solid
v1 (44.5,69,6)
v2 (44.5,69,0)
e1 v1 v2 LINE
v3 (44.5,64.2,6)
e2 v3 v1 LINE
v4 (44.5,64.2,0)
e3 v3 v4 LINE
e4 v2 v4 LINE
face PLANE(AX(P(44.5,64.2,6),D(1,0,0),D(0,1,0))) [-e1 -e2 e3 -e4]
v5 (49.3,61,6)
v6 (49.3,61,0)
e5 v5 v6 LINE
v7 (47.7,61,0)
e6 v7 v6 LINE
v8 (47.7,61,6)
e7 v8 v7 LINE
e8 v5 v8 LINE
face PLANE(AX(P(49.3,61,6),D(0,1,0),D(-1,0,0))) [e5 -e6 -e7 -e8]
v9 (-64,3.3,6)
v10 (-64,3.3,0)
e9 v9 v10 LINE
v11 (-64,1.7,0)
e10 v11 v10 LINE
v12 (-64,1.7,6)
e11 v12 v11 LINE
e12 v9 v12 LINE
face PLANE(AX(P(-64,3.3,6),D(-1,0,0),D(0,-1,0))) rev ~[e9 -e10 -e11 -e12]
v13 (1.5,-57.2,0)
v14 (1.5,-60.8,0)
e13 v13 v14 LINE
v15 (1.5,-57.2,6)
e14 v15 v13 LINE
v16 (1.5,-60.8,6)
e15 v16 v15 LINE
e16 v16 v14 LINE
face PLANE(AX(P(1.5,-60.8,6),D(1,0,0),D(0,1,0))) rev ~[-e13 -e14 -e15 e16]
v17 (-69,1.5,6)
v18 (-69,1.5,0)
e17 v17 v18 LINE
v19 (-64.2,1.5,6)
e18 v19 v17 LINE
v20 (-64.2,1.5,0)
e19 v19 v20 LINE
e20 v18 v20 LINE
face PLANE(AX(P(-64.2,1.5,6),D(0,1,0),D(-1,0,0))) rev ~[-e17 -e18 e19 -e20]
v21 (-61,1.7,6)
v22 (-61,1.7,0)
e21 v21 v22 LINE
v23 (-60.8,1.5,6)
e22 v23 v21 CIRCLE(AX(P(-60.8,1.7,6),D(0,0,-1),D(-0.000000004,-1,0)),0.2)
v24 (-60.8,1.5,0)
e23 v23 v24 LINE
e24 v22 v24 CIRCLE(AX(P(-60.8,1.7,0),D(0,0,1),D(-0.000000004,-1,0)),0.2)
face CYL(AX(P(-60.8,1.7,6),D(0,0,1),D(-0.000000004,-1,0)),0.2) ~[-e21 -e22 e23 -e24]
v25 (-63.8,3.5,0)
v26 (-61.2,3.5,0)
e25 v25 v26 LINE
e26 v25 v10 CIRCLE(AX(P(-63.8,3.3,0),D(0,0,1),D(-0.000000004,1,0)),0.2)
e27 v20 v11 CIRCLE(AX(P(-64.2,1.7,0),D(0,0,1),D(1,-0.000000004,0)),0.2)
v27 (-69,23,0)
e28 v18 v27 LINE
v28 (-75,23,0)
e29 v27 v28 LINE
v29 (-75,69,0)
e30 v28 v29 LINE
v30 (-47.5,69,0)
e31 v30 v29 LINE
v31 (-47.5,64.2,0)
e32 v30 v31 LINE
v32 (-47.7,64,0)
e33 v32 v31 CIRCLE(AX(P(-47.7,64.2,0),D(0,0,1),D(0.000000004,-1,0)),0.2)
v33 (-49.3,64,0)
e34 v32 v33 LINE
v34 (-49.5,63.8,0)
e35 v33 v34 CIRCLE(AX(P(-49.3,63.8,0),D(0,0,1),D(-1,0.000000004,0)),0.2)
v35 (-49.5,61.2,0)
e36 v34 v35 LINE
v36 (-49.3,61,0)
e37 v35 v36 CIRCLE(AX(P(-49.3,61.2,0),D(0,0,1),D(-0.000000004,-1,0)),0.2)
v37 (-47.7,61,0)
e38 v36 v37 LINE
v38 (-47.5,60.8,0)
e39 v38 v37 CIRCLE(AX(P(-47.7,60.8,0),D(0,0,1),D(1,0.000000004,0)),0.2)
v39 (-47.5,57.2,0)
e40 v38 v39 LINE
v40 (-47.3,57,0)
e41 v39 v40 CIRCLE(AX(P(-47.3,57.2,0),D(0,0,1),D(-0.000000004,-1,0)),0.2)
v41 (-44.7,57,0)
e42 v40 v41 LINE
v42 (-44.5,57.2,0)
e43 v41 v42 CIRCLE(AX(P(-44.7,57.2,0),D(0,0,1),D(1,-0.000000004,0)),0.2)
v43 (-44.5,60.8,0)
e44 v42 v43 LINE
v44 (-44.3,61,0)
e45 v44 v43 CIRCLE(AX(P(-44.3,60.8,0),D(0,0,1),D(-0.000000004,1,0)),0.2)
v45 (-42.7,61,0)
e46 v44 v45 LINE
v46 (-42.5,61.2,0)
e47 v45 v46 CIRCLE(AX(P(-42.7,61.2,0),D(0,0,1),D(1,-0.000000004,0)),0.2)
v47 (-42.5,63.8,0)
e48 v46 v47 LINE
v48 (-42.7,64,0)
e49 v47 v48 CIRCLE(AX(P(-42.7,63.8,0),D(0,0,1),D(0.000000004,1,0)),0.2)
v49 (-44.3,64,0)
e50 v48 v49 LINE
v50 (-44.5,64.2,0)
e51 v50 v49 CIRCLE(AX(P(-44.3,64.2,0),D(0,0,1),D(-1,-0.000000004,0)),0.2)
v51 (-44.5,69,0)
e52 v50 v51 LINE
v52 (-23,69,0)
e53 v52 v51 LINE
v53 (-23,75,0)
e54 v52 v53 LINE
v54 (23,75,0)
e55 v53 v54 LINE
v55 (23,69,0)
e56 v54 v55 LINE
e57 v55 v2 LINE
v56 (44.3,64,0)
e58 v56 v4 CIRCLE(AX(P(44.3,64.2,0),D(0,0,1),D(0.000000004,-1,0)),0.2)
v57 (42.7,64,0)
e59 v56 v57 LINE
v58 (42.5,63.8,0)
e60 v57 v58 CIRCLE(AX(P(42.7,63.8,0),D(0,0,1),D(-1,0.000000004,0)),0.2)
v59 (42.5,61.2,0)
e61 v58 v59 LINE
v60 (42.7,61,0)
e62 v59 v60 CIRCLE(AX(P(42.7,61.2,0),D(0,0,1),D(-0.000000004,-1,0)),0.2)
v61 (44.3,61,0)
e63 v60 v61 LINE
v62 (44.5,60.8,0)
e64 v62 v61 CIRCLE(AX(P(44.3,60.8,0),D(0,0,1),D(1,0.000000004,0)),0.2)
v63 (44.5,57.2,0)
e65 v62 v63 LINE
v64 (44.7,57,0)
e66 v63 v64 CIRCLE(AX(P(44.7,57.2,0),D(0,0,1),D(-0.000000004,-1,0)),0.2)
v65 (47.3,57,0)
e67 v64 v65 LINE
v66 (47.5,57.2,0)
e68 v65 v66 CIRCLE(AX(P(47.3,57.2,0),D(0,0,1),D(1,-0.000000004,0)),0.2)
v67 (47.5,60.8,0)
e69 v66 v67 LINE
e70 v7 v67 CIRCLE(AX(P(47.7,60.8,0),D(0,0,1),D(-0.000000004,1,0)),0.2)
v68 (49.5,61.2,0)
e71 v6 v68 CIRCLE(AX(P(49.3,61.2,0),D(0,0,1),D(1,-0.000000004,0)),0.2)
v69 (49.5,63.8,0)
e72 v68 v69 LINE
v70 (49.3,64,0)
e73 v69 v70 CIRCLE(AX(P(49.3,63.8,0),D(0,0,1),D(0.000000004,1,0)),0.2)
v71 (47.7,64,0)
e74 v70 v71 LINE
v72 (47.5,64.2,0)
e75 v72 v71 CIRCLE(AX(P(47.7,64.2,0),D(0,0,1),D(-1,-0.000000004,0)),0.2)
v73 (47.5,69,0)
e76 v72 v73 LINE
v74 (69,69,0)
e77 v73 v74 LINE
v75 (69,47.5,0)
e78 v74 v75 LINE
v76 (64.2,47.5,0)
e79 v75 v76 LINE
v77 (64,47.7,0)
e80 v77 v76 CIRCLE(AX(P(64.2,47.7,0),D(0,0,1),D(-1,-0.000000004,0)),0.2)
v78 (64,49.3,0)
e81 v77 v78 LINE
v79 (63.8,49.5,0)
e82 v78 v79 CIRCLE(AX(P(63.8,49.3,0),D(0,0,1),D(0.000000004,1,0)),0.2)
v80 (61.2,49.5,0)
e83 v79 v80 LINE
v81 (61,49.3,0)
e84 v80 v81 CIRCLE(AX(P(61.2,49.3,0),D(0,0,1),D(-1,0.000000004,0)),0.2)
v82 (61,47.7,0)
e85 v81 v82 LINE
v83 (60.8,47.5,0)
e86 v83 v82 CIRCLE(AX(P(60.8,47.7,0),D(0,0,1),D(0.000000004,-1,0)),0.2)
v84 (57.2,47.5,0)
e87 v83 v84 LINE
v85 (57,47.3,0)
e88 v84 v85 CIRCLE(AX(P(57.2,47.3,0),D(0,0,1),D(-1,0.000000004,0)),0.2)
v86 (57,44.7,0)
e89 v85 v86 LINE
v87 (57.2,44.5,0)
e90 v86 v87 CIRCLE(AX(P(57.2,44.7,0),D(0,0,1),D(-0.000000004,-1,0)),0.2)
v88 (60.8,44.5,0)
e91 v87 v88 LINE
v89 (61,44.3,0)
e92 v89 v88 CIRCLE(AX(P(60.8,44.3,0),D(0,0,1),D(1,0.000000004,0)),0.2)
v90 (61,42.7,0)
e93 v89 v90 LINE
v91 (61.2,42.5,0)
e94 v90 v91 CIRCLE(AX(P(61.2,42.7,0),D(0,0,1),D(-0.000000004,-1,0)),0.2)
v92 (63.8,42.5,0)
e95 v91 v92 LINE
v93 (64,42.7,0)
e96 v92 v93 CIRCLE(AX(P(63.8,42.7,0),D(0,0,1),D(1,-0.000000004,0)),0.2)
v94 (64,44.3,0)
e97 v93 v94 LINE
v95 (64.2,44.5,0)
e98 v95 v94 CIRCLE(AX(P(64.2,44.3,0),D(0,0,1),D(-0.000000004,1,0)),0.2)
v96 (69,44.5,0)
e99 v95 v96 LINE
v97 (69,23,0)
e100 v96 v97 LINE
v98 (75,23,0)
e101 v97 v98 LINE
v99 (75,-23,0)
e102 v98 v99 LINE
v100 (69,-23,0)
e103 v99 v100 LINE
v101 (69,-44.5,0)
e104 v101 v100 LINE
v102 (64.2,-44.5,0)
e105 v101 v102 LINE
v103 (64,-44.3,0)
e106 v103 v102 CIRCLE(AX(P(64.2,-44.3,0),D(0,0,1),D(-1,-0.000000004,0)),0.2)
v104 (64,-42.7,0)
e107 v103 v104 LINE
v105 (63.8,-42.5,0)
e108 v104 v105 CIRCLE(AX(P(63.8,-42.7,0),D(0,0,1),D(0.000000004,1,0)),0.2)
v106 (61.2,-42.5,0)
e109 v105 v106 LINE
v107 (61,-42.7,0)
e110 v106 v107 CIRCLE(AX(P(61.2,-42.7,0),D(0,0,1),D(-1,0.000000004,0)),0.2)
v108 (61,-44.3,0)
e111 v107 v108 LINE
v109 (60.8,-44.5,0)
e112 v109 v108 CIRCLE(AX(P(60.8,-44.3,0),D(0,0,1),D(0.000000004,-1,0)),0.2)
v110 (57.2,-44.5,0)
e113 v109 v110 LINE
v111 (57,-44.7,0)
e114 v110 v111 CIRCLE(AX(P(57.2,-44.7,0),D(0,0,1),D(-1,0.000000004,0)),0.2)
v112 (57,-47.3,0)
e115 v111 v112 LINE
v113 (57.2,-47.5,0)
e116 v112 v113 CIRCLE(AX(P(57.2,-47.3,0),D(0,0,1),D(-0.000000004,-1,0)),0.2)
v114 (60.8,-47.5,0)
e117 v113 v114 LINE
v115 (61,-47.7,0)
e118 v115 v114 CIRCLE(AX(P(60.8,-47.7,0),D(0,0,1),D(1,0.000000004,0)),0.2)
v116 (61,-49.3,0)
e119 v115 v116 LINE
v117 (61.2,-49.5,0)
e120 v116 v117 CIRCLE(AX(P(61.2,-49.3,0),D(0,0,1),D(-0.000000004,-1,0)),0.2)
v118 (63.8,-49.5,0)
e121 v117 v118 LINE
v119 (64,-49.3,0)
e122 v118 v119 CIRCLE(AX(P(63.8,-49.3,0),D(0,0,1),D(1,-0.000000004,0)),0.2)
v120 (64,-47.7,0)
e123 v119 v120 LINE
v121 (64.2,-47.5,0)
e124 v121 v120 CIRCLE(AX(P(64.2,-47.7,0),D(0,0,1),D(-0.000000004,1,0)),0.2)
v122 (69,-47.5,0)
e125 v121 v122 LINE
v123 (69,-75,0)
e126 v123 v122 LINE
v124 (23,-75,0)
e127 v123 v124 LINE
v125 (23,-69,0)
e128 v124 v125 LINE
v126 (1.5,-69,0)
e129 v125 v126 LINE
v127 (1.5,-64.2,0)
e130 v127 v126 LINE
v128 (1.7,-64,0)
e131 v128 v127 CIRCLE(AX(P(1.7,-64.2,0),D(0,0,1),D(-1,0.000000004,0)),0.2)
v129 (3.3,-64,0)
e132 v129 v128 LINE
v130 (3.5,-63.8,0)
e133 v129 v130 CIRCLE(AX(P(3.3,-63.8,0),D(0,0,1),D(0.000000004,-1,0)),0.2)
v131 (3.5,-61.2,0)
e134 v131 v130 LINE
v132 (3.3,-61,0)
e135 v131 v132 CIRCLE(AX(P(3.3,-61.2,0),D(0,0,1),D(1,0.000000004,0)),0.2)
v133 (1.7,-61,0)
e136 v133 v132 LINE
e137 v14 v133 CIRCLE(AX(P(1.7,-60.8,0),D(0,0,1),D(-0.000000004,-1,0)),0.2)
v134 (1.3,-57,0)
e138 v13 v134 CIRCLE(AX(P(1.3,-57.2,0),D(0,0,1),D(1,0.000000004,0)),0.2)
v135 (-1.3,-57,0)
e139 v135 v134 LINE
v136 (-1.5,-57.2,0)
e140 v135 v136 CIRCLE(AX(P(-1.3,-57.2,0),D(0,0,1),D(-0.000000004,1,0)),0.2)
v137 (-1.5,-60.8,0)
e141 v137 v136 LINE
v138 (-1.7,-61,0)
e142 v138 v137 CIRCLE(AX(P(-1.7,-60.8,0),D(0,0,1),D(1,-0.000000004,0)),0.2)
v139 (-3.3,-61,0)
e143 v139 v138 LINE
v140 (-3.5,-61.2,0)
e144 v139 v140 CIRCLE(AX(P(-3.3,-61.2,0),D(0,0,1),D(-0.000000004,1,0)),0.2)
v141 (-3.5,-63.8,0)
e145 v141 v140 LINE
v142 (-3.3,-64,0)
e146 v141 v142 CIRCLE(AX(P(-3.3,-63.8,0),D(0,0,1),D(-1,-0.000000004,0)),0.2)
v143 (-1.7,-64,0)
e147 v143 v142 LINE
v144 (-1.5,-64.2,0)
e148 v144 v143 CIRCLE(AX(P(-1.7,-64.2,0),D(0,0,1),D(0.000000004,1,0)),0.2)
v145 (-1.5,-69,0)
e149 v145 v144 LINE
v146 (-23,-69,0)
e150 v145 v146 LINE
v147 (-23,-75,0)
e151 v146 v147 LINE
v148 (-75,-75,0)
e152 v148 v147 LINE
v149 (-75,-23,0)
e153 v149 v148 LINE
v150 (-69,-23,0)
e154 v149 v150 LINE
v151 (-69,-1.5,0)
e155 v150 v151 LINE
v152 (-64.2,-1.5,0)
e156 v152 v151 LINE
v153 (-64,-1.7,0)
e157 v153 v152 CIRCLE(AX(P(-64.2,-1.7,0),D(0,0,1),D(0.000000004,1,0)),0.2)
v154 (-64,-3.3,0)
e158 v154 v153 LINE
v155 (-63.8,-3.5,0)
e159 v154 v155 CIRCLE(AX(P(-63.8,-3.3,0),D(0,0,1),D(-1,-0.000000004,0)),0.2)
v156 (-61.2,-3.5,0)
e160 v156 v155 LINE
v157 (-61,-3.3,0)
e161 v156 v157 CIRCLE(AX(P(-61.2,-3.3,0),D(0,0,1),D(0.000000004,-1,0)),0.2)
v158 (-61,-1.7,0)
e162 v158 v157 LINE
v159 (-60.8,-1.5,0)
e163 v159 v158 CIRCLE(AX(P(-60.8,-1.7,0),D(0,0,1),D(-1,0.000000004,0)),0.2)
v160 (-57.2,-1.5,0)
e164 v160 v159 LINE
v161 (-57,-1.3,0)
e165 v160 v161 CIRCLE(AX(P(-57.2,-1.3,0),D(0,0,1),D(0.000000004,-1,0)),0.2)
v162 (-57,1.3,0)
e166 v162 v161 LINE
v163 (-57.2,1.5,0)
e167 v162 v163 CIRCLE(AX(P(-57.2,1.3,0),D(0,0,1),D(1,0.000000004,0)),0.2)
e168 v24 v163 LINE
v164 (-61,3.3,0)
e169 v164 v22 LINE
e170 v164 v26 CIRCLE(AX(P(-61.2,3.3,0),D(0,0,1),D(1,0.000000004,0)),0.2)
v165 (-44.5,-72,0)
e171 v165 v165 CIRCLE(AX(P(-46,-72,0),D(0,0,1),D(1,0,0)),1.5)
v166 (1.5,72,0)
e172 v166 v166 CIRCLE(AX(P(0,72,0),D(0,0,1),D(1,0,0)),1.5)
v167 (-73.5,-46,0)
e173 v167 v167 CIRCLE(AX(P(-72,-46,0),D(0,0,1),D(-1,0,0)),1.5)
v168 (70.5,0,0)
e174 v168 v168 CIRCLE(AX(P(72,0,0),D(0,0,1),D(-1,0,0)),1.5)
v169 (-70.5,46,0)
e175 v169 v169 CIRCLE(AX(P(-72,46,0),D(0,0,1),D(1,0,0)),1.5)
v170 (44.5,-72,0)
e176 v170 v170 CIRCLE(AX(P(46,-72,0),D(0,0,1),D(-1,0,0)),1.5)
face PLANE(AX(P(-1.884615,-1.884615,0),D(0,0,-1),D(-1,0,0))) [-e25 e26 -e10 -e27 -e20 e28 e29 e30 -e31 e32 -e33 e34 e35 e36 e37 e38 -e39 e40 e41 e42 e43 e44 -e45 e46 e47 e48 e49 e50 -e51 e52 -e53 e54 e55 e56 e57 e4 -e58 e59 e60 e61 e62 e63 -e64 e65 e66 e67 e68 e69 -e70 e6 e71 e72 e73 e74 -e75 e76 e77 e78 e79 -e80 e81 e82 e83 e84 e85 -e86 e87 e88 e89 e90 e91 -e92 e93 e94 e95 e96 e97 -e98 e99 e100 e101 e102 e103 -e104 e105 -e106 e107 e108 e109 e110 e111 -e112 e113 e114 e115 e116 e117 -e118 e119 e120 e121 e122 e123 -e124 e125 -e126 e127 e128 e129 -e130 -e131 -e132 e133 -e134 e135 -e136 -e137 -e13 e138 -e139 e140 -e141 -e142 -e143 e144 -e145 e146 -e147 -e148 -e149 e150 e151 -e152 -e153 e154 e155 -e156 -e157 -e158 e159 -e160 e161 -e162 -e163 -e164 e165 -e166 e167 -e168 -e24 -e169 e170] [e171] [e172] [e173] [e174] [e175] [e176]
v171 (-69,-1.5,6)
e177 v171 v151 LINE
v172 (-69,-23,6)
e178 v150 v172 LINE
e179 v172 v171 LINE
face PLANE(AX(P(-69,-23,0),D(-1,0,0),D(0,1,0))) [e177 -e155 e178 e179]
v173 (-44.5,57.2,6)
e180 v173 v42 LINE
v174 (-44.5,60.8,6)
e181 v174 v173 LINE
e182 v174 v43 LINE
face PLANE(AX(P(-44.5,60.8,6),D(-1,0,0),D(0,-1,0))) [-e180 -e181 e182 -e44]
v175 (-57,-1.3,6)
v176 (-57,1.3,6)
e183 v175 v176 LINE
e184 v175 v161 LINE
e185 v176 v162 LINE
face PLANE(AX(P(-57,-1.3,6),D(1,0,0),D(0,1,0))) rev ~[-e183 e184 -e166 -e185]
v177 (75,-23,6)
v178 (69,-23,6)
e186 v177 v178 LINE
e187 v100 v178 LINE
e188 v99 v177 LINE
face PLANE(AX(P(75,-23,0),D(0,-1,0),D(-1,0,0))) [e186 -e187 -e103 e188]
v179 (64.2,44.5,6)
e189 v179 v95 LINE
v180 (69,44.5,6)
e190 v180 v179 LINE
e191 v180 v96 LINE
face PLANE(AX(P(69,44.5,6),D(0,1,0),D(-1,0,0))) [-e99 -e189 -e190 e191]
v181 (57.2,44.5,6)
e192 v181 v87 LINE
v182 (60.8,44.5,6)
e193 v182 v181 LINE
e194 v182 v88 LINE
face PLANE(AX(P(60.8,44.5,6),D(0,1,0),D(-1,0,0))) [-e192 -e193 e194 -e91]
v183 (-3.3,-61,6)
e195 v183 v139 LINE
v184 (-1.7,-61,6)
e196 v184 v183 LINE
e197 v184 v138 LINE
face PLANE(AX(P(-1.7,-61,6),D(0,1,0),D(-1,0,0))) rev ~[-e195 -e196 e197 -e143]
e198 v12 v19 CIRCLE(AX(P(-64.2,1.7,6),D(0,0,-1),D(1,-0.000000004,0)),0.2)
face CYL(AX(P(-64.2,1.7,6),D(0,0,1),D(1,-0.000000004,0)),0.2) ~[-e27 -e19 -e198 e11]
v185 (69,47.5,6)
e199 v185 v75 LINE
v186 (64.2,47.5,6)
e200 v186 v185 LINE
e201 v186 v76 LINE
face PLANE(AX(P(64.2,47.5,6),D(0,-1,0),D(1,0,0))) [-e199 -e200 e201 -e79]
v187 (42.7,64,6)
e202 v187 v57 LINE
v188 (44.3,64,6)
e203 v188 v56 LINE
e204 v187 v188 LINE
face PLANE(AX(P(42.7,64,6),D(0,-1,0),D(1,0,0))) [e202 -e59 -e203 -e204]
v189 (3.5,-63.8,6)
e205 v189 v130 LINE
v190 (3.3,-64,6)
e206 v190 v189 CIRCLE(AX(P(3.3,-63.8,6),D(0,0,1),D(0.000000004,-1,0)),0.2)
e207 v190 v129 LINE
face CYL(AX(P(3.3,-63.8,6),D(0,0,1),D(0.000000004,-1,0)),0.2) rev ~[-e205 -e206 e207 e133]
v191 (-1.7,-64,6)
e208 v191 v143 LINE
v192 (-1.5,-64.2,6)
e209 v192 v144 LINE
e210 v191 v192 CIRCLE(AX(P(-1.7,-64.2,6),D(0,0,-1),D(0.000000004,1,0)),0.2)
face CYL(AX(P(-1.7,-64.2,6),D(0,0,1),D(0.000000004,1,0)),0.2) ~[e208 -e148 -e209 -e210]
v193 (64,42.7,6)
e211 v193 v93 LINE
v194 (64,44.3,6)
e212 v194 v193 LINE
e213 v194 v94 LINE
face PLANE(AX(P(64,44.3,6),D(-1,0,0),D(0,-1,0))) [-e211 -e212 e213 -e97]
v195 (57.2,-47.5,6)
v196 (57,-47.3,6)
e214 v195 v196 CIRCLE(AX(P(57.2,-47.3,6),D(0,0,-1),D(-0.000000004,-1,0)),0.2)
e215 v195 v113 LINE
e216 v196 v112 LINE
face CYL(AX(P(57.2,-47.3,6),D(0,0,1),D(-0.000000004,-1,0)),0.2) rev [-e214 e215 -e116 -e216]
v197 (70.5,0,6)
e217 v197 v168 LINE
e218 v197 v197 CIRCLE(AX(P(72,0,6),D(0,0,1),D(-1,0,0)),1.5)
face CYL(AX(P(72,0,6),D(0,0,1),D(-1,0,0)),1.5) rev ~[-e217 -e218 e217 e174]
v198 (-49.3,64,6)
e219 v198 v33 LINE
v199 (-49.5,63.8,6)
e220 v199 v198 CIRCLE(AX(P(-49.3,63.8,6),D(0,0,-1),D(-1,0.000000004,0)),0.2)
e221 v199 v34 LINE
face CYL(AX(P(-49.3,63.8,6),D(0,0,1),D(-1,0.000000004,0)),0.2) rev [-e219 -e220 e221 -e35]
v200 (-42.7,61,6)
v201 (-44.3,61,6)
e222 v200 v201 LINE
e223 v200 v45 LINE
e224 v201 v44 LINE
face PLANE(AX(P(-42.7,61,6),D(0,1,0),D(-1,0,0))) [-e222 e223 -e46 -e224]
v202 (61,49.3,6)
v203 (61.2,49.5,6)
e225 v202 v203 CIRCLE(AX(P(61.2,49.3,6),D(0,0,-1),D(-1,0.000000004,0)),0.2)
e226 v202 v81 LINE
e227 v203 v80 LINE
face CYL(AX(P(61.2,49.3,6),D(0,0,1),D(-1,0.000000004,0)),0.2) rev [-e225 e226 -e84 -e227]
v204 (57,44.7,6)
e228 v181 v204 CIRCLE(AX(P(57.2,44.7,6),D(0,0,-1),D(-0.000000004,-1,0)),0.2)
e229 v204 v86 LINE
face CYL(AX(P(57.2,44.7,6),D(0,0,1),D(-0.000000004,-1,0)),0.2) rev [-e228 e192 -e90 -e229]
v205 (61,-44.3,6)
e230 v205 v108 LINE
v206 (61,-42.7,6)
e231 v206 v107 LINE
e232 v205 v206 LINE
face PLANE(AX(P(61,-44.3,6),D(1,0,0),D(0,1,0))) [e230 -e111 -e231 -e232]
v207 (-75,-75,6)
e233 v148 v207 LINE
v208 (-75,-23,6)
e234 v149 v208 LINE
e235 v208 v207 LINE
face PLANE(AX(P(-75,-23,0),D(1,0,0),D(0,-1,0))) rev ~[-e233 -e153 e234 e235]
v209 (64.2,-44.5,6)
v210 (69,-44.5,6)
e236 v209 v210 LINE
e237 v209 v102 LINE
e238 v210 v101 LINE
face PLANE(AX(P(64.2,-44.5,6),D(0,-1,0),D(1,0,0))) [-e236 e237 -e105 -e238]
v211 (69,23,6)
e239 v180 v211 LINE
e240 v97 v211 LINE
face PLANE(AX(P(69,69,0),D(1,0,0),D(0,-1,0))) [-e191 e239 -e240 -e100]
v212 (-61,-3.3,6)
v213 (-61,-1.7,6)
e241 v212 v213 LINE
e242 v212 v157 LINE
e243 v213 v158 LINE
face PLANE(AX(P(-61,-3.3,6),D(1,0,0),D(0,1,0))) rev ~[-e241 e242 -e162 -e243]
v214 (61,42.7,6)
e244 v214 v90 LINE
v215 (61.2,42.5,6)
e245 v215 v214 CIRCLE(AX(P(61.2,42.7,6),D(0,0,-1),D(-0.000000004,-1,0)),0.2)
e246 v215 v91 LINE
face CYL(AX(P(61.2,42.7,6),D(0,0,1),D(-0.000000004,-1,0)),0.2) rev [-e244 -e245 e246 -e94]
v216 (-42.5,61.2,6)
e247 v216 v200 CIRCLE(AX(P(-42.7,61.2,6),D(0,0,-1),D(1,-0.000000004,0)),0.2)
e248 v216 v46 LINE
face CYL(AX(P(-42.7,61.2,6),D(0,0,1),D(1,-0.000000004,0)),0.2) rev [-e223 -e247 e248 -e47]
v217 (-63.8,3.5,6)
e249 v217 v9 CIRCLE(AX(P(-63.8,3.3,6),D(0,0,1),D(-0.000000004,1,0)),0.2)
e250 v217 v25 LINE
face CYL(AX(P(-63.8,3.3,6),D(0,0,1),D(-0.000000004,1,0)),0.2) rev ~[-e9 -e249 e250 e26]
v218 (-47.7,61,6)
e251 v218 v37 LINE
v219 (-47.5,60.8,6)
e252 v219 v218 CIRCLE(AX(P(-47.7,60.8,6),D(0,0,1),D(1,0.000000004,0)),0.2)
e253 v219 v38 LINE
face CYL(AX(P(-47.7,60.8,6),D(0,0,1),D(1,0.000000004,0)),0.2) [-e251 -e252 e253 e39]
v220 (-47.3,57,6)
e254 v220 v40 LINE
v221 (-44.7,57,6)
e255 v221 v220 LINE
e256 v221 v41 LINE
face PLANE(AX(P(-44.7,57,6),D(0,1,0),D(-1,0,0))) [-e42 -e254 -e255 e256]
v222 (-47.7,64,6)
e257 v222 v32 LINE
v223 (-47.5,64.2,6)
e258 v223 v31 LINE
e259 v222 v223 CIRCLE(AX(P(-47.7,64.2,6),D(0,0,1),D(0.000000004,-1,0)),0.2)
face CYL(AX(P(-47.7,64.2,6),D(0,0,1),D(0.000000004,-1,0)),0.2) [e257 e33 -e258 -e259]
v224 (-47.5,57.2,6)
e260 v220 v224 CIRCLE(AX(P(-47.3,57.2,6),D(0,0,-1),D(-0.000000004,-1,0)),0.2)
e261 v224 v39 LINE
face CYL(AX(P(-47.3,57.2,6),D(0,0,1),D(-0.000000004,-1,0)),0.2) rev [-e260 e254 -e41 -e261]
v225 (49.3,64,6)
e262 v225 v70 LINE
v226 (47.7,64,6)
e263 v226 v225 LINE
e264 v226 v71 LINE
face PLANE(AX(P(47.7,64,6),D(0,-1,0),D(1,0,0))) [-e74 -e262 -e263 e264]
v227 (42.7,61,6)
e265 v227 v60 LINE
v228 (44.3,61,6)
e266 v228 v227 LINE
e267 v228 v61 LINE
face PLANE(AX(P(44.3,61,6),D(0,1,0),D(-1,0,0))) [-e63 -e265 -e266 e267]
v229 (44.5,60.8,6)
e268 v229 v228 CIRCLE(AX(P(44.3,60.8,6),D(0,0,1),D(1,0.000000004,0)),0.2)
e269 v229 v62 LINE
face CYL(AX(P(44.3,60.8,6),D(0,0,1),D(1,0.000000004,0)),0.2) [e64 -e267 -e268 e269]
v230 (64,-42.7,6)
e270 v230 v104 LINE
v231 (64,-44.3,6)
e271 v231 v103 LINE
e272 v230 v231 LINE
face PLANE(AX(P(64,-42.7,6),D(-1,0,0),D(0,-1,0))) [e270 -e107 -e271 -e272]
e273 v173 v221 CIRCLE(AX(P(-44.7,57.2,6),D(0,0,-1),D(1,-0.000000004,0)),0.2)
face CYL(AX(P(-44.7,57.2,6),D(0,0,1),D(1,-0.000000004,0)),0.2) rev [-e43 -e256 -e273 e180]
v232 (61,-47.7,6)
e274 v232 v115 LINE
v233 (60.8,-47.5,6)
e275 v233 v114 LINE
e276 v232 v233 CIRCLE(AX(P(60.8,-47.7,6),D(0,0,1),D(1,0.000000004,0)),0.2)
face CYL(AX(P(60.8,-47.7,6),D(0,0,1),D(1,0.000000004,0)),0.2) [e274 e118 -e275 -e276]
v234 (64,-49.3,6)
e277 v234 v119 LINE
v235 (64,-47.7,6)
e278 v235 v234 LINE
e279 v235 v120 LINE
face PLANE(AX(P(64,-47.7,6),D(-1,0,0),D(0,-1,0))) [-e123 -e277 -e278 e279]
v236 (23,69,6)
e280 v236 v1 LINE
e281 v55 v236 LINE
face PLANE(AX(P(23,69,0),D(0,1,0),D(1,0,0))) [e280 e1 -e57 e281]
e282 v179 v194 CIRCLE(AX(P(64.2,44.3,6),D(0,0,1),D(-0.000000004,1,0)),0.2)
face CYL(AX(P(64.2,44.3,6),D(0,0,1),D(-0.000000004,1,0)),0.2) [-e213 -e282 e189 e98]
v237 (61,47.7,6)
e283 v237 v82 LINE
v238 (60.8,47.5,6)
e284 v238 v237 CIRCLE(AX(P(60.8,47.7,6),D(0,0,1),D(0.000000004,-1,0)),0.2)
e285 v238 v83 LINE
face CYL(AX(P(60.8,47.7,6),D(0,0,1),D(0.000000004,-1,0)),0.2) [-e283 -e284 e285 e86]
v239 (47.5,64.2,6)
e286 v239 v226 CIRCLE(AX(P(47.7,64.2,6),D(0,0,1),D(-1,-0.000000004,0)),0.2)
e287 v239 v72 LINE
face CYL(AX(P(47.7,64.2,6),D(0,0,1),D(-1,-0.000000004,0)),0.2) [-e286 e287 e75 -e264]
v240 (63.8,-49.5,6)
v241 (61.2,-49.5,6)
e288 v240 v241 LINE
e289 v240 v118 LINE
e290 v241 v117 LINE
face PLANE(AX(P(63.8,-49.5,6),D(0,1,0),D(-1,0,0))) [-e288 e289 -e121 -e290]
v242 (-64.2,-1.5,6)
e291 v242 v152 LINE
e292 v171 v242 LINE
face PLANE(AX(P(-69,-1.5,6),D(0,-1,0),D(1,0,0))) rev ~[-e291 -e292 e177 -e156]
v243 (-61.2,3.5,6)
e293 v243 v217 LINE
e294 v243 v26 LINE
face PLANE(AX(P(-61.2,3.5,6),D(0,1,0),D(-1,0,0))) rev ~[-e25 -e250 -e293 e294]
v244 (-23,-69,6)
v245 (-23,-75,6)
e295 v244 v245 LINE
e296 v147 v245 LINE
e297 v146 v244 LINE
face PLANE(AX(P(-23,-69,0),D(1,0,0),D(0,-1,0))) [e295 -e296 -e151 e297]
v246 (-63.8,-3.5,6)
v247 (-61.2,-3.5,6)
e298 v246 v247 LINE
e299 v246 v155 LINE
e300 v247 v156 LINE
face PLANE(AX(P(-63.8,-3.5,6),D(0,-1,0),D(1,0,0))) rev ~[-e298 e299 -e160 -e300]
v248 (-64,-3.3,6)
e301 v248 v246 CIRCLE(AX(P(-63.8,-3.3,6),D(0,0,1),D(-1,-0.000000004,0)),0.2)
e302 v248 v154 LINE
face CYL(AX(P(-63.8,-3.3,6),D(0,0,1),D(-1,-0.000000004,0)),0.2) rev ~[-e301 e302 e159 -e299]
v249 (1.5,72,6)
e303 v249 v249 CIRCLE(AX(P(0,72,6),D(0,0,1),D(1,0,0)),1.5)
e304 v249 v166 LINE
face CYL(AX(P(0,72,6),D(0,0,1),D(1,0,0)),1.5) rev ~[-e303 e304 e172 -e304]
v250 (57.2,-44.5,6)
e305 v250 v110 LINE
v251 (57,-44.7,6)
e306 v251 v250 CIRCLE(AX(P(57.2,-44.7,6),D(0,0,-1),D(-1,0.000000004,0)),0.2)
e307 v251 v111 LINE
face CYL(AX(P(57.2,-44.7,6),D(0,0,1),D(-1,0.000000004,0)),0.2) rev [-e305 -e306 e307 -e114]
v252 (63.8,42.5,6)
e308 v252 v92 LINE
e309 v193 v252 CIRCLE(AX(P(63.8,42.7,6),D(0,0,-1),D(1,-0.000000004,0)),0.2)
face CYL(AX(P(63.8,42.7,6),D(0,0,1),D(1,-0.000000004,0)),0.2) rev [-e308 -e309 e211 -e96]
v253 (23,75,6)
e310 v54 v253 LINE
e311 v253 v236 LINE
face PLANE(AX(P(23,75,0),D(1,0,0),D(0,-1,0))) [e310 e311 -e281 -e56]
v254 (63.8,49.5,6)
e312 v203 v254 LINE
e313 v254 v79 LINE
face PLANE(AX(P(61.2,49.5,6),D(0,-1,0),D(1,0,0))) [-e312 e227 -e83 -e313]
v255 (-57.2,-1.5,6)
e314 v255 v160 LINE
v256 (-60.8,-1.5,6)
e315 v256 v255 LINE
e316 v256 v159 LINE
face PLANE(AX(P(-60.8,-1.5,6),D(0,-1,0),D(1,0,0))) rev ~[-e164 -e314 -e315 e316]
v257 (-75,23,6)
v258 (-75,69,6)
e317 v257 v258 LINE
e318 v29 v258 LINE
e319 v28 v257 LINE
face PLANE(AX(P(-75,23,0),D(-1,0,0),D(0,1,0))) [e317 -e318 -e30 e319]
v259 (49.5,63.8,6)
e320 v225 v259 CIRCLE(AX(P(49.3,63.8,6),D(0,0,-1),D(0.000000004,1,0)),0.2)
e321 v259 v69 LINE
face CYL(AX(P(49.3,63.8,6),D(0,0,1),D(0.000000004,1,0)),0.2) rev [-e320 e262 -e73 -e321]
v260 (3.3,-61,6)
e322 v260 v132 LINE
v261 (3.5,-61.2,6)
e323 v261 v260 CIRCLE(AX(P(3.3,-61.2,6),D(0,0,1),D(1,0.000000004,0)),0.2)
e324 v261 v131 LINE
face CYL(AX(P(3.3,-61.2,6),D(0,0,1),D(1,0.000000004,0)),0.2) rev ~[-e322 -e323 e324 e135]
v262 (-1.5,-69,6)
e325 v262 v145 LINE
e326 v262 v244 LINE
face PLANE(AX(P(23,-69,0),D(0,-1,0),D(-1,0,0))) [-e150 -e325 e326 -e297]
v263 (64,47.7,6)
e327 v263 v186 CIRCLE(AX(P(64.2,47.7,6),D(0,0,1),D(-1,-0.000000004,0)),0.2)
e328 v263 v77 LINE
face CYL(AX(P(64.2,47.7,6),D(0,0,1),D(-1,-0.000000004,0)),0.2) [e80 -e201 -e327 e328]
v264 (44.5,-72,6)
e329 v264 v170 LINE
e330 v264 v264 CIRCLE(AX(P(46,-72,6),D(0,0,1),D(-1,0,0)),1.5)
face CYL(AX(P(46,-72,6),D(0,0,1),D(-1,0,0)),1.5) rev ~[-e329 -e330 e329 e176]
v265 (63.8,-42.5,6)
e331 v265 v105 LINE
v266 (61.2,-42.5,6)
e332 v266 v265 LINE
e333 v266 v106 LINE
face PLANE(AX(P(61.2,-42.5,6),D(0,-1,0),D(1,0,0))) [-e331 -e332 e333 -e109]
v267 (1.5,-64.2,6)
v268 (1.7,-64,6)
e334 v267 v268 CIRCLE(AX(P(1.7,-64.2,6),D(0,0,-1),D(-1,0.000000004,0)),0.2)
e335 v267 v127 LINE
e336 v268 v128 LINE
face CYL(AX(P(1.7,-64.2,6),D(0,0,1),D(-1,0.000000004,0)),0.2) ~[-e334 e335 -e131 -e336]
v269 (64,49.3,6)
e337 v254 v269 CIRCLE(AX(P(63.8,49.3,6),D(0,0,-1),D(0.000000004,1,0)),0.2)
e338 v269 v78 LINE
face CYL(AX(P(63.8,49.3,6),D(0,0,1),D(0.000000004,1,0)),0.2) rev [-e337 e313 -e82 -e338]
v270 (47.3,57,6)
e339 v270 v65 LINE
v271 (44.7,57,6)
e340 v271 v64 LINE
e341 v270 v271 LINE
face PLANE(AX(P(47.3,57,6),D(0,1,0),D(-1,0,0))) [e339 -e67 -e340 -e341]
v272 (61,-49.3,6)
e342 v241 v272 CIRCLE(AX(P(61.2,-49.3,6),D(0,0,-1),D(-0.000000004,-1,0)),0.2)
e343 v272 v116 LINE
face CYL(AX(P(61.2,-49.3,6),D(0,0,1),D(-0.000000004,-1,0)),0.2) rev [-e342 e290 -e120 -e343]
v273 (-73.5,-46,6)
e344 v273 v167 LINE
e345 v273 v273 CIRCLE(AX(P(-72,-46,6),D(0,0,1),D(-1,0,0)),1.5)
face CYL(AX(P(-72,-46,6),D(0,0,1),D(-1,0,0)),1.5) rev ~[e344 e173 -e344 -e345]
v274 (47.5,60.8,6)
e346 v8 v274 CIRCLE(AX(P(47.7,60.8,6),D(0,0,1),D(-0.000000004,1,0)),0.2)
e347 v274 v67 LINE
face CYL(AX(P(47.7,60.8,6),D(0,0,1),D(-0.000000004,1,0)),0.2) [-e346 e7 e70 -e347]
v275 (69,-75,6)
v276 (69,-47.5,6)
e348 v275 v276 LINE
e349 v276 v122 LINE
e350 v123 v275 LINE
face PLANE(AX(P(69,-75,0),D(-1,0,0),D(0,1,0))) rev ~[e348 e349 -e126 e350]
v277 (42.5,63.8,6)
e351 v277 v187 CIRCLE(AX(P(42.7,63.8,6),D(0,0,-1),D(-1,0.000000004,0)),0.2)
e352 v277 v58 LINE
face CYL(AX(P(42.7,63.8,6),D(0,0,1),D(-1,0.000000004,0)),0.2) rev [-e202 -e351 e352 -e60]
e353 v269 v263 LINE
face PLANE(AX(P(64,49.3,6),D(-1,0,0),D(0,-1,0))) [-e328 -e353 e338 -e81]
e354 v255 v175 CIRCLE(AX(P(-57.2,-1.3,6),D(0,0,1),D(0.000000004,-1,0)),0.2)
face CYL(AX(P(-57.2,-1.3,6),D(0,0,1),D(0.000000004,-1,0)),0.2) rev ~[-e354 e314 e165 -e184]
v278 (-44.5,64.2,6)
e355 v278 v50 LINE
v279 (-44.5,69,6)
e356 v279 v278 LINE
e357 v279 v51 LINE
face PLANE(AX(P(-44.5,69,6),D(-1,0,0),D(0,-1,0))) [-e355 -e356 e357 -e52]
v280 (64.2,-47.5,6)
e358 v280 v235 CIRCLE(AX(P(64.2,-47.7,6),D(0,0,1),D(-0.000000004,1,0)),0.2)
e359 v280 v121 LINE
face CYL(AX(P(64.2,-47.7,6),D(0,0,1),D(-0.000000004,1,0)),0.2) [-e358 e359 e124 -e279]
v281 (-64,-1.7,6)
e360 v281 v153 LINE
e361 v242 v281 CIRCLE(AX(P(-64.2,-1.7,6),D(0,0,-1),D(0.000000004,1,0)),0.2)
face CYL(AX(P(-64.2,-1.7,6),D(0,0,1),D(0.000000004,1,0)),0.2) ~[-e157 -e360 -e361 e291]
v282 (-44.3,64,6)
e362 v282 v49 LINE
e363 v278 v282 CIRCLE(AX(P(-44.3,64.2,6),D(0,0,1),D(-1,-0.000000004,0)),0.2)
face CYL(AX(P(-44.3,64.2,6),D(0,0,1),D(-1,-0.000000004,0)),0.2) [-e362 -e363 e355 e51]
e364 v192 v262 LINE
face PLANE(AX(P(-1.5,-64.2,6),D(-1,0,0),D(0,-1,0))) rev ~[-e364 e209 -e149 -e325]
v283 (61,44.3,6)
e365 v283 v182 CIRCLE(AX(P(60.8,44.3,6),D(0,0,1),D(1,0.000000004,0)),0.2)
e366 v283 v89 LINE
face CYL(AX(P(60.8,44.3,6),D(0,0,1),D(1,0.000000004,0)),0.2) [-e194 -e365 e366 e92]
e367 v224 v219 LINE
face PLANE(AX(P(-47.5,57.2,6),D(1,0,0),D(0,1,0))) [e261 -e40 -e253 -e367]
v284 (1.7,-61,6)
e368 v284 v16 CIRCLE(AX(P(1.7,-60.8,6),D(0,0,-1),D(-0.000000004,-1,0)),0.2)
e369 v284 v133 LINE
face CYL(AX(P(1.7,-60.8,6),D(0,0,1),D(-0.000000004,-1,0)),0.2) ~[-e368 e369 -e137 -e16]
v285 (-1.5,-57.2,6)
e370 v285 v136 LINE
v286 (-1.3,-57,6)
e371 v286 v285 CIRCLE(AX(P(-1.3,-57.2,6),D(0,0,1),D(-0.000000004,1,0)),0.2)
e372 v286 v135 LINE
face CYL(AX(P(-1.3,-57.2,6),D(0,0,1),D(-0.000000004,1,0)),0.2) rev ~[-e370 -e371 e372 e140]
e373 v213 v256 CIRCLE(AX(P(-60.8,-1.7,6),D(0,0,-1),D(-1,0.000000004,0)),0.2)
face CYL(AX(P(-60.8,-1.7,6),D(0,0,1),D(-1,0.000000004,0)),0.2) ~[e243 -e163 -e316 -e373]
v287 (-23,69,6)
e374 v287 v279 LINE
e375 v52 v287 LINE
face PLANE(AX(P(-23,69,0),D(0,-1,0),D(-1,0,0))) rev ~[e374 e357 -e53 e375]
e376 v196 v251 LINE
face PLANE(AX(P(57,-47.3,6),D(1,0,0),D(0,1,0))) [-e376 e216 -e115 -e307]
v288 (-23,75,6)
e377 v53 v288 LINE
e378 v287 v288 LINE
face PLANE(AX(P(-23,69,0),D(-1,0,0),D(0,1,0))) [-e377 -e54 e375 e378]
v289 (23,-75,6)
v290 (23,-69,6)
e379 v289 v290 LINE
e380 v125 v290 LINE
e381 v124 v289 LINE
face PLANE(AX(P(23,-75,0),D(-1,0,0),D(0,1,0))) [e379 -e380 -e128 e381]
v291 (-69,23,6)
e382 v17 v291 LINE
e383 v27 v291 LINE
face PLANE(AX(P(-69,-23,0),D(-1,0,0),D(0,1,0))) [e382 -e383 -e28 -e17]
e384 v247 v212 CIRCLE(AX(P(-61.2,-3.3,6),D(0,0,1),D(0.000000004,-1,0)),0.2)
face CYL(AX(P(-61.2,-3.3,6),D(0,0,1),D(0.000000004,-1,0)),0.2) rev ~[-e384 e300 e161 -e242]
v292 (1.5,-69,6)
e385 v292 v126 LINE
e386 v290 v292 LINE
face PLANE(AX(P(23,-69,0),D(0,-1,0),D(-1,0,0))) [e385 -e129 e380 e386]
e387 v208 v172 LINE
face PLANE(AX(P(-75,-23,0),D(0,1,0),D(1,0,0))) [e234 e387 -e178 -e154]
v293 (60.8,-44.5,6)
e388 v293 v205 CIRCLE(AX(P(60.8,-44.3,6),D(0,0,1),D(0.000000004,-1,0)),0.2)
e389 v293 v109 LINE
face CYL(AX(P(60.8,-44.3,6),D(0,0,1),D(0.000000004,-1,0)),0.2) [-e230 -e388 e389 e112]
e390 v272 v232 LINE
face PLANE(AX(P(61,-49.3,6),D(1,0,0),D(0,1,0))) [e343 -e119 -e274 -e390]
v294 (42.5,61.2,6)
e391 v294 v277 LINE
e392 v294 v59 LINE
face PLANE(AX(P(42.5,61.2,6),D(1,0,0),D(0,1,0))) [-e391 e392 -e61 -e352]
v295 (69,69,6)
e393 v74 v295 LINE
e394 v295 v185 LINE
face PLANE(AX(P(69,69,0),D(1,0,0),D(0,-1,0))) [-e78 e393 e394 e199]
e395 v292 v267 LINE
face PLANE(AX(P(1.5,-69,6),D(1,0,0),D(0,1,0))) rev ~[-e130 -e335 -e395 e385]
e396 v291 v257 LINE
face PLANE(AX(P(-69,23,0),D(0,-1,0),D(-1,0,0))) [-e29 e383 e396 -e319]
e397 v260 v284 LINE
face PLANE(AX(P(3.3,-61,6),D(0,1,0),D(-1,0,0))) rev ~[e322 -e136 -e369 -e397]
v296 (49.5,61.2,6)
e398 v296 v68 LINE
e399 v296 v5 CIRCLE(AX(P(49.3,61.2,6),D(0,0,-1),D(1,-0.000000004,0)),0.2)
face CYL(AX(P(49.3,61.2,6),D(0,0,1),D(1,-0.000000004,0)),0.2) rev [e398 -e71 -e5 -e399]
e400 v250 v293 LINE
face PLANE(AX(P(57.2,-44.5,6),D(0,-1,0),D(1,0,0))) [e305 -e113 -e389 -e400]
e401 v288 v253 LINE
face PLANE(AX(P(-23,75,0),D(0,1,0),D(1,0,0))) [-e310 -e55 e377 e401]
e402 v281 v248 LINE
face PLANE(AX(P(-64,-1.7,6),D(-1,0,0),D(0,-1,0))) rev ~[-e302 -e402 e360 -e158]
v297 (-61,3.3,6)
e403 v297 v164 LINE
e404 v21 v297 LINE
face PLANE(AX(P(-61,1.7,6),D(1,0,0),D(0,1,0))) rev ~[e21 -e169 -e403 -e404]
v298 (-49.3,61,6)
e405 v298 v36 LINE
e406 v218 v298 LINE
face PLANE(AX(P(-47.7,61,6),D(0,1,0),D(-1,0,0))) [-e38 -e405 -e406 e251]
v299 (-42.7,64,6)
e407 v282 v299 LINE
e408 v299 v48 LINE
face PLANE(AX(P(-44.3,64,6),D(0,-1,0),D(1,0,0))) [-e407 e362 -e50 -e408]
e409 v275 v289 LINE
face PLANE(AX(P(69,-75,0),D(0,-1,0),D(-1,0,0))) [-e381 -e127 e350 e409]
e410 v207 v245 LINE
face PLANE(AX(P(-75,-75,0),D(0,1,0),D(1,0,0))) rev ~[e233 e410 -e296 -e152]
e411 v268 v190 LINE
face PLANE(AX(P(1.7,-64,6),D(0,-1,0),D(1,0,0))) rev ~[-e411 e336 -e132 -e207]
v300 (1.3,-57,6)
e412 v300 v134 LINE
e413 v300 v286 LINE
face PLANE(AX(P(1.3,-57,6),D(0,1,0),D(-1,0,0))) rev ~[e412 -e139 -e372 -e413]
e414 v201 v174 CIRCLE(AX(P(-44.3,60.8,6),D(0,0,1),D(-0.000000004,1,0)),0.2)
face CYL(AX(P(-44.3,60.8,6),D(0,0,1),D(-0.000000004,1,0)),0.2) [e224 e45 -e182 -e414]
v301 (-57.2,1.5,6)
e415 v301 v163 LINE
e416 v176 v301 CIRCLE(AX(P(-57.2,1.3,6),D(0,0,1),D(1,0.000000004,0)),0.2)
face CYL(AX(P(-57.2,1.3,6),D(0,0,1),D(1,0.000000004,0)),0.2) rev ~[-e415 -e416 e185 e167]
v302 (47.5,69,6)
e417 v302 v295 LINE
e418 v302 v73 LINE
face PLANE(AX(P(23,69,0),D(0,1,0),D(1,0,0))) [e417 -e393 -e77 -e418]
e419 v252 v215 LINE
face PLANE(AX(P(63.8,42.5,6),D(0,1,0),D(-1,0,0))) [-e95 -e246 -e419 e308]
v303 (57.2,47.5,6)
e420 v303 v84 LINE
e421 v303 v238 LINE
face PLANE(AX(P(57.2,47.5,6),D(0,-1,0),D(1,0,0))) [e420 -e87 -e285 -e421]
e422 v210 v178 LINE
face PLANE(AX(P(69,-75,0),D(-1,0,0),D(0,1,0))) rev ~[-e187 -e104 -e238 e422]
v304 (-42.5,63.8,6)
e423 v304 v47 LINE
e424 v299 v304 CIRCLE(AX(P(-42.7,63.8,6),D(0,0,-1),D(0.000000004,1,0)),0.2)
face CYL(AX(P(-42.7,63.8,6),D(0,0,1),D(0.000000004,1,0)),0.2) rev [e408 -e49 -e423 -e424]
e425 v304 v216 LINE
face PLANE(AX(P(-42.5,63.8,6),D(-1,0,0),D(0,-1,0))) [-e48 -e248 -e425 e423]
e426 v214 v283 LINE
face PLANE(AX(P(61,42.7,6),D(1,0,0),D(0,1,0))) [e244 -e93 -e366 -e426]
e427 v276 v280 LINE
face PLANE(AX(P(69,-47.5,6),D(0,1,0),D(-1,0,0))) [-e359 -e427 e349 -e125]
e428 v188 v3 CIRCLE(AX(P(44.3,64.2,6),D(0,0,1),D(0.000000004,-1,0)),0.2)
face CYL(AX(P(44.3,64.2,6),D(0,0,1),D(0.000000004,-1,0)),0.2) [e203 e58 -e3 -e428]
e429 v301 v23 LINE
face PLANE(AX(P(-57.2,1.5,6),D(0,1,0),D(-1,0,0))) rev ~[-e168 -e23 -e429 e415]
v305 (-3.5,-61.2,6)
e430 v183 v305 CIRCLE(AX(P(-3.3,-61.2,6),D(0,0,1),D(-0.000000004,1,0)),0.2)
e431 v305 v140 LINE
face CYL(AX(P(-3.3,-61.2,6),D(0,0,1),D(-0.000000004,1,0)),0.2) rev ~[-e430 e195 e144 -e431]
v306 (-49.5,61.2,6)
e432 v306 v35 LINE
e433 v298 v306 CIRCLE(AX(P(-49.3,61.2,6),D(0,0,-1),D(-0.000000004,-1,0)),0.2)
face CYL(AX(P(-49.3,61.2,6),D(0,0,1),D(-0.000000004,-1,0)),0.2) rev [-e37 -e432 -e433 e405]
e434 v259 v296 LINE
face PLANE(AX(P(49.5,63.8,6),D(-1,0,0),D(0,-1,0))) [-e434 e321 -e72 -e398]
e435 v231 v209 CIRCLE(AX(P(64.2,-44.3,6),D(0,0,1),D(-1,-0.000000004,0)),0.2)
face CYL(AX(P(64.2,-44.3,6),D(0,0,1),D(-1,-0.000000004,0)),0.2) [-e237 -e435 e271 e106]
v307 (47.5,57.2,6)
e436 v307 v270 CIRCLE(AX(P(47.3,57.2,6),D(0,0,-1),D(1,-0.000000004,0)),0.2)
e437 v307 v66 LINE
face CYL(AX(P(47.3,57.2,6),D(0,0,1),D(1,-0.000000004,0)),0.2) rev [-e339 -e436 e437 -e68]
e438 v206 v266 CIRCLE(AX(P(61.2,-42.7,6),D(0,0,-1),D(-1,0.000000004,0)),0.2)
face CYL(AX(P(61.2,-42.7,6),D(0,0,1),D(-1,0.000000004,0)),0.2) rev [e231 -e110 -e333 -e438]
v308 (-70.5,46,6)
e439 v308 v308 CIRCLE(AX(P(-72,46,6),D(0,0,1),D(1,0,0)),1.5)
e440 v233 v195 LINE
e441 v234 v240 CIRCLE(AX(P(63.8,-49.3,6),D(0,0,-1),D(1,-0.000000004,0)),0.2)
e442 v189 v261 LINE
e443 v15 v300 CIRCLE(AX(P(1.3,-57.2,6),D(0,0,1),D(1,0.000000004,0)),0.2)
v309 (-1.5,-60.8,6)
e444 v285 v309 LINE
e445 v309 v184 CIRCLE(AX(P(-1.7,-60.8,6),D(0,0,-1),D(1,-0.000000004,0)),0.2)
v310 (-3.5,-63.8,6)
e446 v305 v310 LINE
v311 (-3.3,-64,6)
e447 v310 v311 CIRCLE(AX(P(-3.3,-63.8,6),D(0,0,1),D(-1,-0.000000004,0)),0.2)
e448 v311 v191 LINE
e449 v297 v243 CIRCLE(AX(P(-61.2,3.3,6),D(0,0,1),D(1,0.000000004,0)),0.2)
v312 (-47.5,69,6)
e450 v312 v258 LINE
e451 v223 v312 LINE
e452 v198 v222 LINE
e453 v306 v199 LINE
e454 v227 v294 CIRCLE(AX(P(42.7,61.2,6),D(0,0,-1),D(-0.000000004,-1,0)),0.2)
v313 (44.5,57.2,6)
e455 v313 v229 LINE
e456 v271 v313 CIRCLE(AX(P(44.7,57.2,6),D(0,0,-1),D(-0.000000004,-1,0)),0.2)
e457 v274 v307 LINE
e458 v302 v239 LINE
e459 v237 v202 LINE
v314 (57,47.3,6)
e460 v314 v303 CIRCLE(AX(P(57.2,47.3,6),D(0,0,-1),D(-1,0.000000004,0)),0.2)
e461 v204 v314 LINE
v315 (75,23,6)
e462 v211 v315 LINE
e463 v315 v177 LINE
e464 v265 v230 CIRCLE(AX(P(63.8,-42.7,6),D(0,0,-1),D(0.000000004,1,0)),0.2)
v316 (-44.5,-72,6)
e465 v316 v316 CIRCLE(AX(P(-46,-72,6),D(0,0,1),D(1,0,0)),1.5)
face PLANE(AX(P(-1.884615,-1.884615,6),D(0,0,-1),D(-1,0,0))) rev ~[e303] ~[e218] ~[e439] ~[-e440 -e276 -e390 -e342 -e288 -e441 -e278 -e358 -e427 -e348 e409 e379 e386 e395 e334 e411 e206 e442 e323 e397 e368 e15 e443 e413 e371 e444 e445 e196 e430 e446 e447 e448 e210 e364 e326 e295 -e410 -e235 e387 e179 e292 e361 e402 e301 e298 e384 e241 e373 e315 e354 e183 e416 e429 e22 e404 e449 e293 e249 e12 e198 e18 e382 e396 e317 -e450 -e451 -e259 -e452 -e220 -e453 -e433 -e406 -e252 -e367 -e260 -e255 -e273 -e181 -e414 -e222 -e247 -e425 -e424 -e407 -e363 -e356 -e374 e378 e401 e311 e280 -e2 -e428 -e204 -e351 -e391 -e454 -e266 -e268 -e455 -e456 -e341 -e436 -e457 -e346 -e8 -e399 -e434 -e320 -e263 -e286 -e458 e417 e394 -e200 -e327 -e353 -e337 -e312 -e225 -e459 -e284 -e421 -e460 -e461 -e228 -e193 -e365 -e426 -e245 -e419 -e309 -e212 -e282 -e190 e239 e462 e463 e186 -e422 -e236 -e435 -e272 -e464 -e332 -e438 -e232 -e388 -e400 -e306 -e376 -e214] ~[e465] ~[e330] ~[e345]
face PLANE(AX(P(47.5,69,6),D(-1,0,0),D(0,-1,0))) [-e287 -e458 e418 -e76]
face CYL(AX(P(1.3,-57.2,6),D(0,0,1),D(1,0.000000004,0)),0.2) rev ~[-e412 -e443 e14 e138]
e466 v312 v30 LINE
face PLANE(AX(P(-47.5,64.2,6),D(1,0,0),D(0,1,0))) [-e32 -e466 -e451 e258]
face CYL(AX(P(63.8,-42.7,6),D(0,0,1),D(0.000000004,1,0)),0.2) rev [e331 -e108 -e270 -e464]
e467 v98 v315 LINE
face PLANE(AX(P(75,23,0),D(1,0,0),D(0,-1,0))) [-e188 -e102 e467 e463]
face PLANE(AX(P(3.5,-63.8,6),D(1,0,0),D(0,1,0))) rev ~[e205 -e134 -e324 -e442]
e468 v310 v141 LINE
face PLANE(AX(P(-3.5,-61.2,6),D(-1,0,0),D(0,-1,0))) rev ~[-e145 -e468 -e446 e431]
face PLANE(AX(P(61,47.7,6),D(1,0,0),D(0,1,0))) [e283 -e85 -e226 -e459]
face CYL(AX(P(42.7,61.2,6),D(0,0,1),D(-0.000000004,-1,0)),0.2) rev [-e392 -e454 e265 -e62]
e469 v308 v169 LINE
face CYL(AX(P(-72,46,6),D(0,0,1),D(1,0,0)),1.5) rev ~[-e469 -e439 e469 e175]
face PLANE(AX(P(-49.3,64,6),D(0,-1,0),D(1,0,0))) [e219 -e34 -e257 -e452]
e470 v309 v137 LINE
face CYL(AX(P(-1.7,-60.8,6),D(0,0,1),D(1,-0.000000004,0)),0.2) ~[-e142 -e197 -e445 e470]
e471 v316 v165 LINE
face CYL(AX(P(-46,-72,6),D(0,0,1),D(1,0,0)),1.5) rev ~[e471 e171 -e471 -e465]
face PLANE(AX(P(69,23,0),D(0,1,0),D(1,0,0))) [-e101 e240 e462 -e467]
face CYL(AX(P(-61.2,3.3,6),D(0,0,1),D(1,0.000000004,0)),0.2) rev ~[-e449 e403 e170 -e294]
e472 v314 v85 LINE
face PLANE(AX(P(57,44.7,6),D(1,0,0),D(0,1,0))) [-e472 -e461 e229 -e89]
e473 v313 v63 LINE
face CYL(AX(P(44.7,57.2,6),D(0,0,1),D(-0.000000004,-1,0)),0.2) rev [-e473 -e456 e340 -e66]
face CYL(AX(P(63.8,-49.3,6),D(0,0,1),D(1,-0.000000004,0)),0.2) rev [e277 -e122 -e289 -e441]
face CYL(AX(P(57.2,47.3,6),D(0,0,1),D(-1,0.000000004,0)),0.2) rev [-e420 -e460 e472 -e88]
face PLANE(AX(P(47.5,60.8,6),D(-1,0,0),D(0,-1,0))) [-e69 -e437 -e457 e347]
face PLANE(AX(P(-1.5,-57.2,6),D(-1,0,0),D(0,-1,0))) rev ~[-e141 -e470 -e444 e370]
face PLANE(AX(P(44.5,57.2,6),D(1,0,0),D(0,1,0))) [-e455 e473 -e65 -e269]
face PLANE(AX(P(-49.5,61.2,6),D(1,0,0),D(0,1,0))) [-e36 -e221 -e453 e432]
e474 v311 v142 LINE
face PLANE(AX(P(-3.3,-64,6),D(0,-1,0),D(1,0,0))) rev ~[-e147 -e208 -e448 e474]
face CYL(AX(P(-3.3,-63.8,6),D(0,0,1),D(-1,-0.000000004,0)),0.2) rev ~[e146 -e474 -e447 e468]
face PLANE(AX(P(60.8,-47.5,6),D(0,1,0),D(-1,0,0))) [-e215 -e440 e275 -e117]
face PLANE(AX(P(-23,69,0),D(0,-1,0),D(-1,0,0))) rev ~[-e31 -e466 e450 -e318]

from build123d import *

# Parameters (mm, degrees)
BOX_SIDE_DEPTH       = 6
SKETCH2_R            = 1.5
SCREW_CUT_OUTS_DEPTH = 107.235587258


with BuildPart() as part:
    # Sketch1 → Box Side (new body)
    with BuildSketch(Plane.XY):
        Polygon((-69, 69), (-23, 69), (-23, 75), (23, 75), (23, 69), (69, 69), (69, 23), (75, 23), (75, -23), (69, -23), (69, -69), (69, -75), (23, -75), (23, -69), (-23, -69), (-23, -75), (-69, -75), (-75, -75), (-75, -69), (-75, -23), (-69, -23), (-69, 23), (-75, 23), (-75, 69), align=None)
    extrude(amount=BOX_SIDE_DEPTH)

    # Sketch2 → Screw Cut-outs (cut, through all)
    with BuildSketch(Plane.XY.offset(6)):
        with Locations((0, 72)):
            Circle(SKETCH2_R)
        with Locations(Location((72, 0, 0), (0, 0, 180))):
            Circle(SKETCH2_R)
        with Locations((-46, -72)):
            Circle(SKETCH2_R)
        with Locations(Location((46, -72, 0), (0, 0, 180))):
            Circle(SKETCH2_R)
        with Locations((-72, 46)):
            Circle(SKETCH2_R)
        with Locations(Location((-72, -46, 0), (0, 0, 180))):
            Circle(SKETCH2_R)
        with BuildLine():
            Line((-44.5, 69), (-44.5, 64.2))
            ThreePointArc((-44.5, 64.2), (-44.441421356, 64.058578644), (-44.3, 64))
            Line((-44.3, 64), (-42.7, 64))
            ThreePointArc((-42.7, 64), (-42.558578644, 63.941421356), (-42.5, 63.8))
            Line((-42.5, 63.8), (-42.5, 61.2))
            ThreePointArc((-42.5, 61.2), (-42.558578644, 61.058578644), (-42.7, 61))
            Line((-42.7, 61), (-44.3, 61))
            ThreePointArc((-44.3, 61), (-44.441421356, 60.941421356), (-44.5, 60.8))
            Line((-44.5, 60.8), (-44.5, 57.2))
            ThreePointArc((-44.5, 57.2), (-44.558578644, 57.058578644), (-44.7, 57))
            Line((-44.7, 57), (-47.3, 57))
            ThreePointArc((-47.3, 57), (-47.441421356, 57.058578644), (-47.5, 57.2))
            Line((-47.5, 57.2), (-47.5, 60.8))
            ThreePointArc((-47.5, 60.8), (-47.558578644, 60.941421356), (-47.7, 61))
            Line((-47.7, 61), (-49.3, 61))
            ThreePointArc((-49.3, 61), (-49.441421356, 61.058578644), (-49.5, 61.2))
            Line((-49.5, 61.2), (-49.5, 63.8))
            ThreePointArc((-49.5, 63.8), (-49.441421356, 63.941421356), (-49.3, 64))
            Line((-49.3, 64), (-47.7, 64))
            ThreePointArc((-47.7, 64), (-47.558578644, 64.058578644), (-47.5, 64.2))
            Line((-47.5, 64.2), (-47.5, 69))
            Line((-47.5, 69), (-44.5, 69))
        make_face()
        with BuildLine():
            Line((47.5, 69), (47.5, 64.2))
            ThreePointArc((47.5, 64.2), (47.558578644, 64.058578644), (47.7, 64))
            Line((47.7, 64), (49.3, 64))
            ThreePointArc((49.3, 64), (49.441421356, 63.941421356), (49.5, 63.8))
            Line((49.5, 63.8), (49.5, 61.2))
            ThreePointArc((49.5, 61.2), (49.441421356, 61.058578644), (49.3, 61))
            Line((49.3, 61), (47.7, 61))
            ThreePointArc((47.7, 61), (47.558578644, 60.941421356), (47.5, 60.8))
            Line((47.5, 60.8), (47.5, 57.2))
            ThreePointArc((47.5, 57.2), (47.441421356, 57.058578644), (47.3, 57))
            Line((47.3, 57), (44.7, 57))
            ThreePointArc((44.7, 57), (44.558578644, 57.058578644), (44.5, 57.2))
            Line((44.5, 57.2), (44.5, 60.8))
            ThreePointArc((44.5, 60.8), (44.441421356, 60.941421356), (44.3, 61))
            Line((44.3, 61), (42.7, 61))
            ThreePointArc((42.7, 61), (42.558578644, 61.058578644), (42.5, 61.2))
            Line((42.5, 61.2), (42.5, 63.8))
            ThreePointArc((42.5, 63.8), (42.558578644, 63.941421356), (42.7, 64))
            Line((42.7, 64), (44.3, 64))
            ThreePointArc((44.3, 64), (44.441421356, 64.058578644), (44.5, 64.2))
            Line((44.5, 64.2), (44.5, 69))
            Line((44.5, 69), (47.5, 69))
        make_face()
        with BuildLine():
            Line((69, 44.5), (64.2, 44.5))
            ThreePointArc((64.2, 44.5), (64.058578644, 44.441421356), (64, 44.3))
            Line((64, 44.3), (64, 42.7))
            ThreePointArc((64, 42.7), (63.941421356, 42.558578644), (63.8, 42.5))
            Line((63.8, 42.5), (61.2, 42.5))
            ThreePointArc((61.2, 42.5), (61.058578644, 42.558578644), (61, 42.7))
            Line((61, 42.7), (61, 44.3))
            ThreePointArc((61, 44.3), (60.941421356, 44.441421356), (60.8, 44.5))
            Line((60.8, 44.5), (57.2, 44.5))
            ThreePointArc((57.2, 44.5), (57.058578644, 44.558578644), (57, 44.7))
            Line((57, 44.7), (57, 47.3))
            ThreePointArc((57, 47.3), (57.058578644, 47.441421356), (57.2, 47.5))
            Line((57.2, 47.5), (60.8, 47.5))
            ThreePointArc((60.8, 47.5), (60.941421356, 47.558578644), (61, 47.7))
            Line((61, 47.7), (61, 49.3))
            ThreePointArc((61, 49.3), (61.058578644, 49.441421356), (61.2, 49.5))
            Line((61.2, 49.5), (63.8, 49.5))
            ThreePointArc((63.8, 49.5), (63.941421356, 49.441421356), (64, 49.3))
            Line((64, 49.3), (64, 47.7))
            ThreePointArc((64, 47.7), (64.058578644, 47.558578644), (64.2, 47.5))
            Line((64.2, 47.5), (69, 47.5))
            Line((69, 47.5), (69, 44.5))
        make_face()
        with BuildLine():
            Line((69, -47.5), (64.2, -47.5))
            ThreePointArc((64.2, -47.5), (64.058578644, -47.558578644), (64, -47.7))
            Line((64, -47.7), (64, -49.3))
            ThreePointArc((64, -49.3), (63.941421356, -49.441421356), (63.8, -49.5))
            Line((63.8, -49.5), (61.2, -49.5))
            ThreePointArc((61.2, -49.5), (61.058578644, -49.441421356), (61, -49.3))
            Line((61, -49.3), (61, -47.7))
            ThreePointArc((61, -47.7), (60.941421356, -47.558578644), (60.8, -47.5))
            Line((60.8, -47.5), (57.2, -47.5))
            ThreePointArc((57.2, -47.5), (57.058578644, -47.441421356), (57, -47.3))
            Line((57, -47.3), (57, -44.7))
            ThreePointArc((57, -44.7), (57.058578644, -44.558578644), (57.2, -44.5))
            Line((57.2, -44.5), (60.8, -44.5))
            ThreePointArc((60.8, -44.5), (60.941421356, -44.441421356), (61, -44.3))
            Line((61, -44.3), (61, -42.7))
            ThreePointArc((61, -42.7), (61.058578644, -42.558578644), (61.2, -42.5))
            Line((61.2, -42.5), (63.8, -42.5))
            ThreePointArc((63.8, -42.5), (63.941421356, -42.558578644), (64, -42.7))
            Line((64, -42.7), (64, -44.3))
            ThreePointArc((64, -44.3), (64.058578644, -44.441421356), (64.2, -44.5))
            Line((64.2, -44.5), (69, -44.5))
            Line((69, -44.5), (69, -47.5))
        make_face()
        with BuildLine():
            Line((-1.5, -69), (1.5, -69))
            Line((1.5, -69), (1.5, -64.2))
            ThreePointArc((1.5, -64.2), (1.558578644, -64.058578644), (1.7, -64))
            Line((1.7, -64), (3.3, -64))
            ThreePointArc((3.3, -64), (3.441421356, -63.941421356), (3.5, -63.8))
            Line((3.5, -63.8), (3.5, -61.2))
            ThreePointArc((3.5, -61.2), (3.441421356, -61.058578644), (3.3, -61))
            Line((3.3, -61), (1.7, -61))
            ThreePointArc((1.7, -61), (1.558578644, -60.941421356), (1.5, -60.8))
            Line((1.5, -60.8), (1.5, -57.2))
            ThreePointArc((1.5, -57.2), (1.441421356, -57.058578644), (1.3, -57))
            Line((1.3, -57), (-1.3, -57))
            ThreePointArc((-1.3, -57), (-1.441421356, -57.058578644), (-1.5, -57.2))
            Line((-1.5, -57.2), (-1.5, -60.8))
            ThreePointArc((-1.5, -60.8), (-1.558578644, -60.941421356), (-1.7, -61))
            Line((-1.7, -61), (-3.3, -61))
            ThreePointArc((-3.3, -61), (-3.441421356, -61.058578644), (-3.5, -61.2))
            Line((-3.5, -61.2), (-3.5, -63.8))
            ThreePointArc((-3.5, -63.8), (-3.441421356, -63.941421356), (-3.3, -64))
            Line((-3.3, -64), (-1.7, -64))
            ThreePointArc((-1.7, -64), (-1.558578644, -64.058578644), (-1.5, -64.2))
            Line((-1.5, -64.2), (-1.5, -69))
        make_face()
        with BuildLine():
            Line((-69, -1.5), (-64.2, -1.5))
            ThreePointArc((-64.2, -1.5), (-64.058578644, -1.558578644), (-64, -1.7))
            Line((-64, -1.7), (-64, -3.3))
            ThreePointArc((-64, -3.3), (-63.941421356, -3.441421356), (-63.8, -3.5))
            Line((-63.8, -3.5), (-61.2, -3.5))
            ThreePointArc((-61.2, -3.5), (-61.058578644, -3.441421356), (-61, -3.3))
            Line((-61, -3.3), (-61, -1.7))
            ThreePointArc((-61, -1.7), (-60.941421356, -1.558578644), (-60.8, -1.5))
            Line((-60.8, -1.5), (-57.2, -1.5))
            ThreePointArc((-57.2, -1.5), (-57.058578644, -1.441421356), (-57, -1.3))
            Line((-57, -1.3), (-57, 1.3))
            ThreePointArc((-57, 1.3), (-57.058578644, 1.441421356), (-57.2, 1.5))
            Line((-57.2, 1.5), (-60.8, 1.5))
            ThreePointArc((-60.8, 1.5), (-60.941421356, 1.558578644), (-61, 1.7))
            Line((-61, 1.7), (-61, 3.3))
            ThreePointArc((-61, 3.3), (-61.058578644, 3.441421356), (-61.2, 3.5))
            Line((-61.2, 3.5), (-63.8, 3.5))
            ThreePointArc((-63.8, 3.5), (-63.941421356, 3.441421356), (-64, 3.3))
            Line((-64, 3.3), (-64, 1.7))
            ThreePointArc((-64, 1.7), (-64.058578644, 1.558578644), (-64.2, 1.5))
            Line((-64.2, 1.5), (-69, 1.5))
            Line((-69, 1.5), (-69, -1.5))
        make_face()
    extrude(amount=-SCREW_CUT_OUTS_DEPTH, mode=Mode.SUBTRACT)


solid = part.part
